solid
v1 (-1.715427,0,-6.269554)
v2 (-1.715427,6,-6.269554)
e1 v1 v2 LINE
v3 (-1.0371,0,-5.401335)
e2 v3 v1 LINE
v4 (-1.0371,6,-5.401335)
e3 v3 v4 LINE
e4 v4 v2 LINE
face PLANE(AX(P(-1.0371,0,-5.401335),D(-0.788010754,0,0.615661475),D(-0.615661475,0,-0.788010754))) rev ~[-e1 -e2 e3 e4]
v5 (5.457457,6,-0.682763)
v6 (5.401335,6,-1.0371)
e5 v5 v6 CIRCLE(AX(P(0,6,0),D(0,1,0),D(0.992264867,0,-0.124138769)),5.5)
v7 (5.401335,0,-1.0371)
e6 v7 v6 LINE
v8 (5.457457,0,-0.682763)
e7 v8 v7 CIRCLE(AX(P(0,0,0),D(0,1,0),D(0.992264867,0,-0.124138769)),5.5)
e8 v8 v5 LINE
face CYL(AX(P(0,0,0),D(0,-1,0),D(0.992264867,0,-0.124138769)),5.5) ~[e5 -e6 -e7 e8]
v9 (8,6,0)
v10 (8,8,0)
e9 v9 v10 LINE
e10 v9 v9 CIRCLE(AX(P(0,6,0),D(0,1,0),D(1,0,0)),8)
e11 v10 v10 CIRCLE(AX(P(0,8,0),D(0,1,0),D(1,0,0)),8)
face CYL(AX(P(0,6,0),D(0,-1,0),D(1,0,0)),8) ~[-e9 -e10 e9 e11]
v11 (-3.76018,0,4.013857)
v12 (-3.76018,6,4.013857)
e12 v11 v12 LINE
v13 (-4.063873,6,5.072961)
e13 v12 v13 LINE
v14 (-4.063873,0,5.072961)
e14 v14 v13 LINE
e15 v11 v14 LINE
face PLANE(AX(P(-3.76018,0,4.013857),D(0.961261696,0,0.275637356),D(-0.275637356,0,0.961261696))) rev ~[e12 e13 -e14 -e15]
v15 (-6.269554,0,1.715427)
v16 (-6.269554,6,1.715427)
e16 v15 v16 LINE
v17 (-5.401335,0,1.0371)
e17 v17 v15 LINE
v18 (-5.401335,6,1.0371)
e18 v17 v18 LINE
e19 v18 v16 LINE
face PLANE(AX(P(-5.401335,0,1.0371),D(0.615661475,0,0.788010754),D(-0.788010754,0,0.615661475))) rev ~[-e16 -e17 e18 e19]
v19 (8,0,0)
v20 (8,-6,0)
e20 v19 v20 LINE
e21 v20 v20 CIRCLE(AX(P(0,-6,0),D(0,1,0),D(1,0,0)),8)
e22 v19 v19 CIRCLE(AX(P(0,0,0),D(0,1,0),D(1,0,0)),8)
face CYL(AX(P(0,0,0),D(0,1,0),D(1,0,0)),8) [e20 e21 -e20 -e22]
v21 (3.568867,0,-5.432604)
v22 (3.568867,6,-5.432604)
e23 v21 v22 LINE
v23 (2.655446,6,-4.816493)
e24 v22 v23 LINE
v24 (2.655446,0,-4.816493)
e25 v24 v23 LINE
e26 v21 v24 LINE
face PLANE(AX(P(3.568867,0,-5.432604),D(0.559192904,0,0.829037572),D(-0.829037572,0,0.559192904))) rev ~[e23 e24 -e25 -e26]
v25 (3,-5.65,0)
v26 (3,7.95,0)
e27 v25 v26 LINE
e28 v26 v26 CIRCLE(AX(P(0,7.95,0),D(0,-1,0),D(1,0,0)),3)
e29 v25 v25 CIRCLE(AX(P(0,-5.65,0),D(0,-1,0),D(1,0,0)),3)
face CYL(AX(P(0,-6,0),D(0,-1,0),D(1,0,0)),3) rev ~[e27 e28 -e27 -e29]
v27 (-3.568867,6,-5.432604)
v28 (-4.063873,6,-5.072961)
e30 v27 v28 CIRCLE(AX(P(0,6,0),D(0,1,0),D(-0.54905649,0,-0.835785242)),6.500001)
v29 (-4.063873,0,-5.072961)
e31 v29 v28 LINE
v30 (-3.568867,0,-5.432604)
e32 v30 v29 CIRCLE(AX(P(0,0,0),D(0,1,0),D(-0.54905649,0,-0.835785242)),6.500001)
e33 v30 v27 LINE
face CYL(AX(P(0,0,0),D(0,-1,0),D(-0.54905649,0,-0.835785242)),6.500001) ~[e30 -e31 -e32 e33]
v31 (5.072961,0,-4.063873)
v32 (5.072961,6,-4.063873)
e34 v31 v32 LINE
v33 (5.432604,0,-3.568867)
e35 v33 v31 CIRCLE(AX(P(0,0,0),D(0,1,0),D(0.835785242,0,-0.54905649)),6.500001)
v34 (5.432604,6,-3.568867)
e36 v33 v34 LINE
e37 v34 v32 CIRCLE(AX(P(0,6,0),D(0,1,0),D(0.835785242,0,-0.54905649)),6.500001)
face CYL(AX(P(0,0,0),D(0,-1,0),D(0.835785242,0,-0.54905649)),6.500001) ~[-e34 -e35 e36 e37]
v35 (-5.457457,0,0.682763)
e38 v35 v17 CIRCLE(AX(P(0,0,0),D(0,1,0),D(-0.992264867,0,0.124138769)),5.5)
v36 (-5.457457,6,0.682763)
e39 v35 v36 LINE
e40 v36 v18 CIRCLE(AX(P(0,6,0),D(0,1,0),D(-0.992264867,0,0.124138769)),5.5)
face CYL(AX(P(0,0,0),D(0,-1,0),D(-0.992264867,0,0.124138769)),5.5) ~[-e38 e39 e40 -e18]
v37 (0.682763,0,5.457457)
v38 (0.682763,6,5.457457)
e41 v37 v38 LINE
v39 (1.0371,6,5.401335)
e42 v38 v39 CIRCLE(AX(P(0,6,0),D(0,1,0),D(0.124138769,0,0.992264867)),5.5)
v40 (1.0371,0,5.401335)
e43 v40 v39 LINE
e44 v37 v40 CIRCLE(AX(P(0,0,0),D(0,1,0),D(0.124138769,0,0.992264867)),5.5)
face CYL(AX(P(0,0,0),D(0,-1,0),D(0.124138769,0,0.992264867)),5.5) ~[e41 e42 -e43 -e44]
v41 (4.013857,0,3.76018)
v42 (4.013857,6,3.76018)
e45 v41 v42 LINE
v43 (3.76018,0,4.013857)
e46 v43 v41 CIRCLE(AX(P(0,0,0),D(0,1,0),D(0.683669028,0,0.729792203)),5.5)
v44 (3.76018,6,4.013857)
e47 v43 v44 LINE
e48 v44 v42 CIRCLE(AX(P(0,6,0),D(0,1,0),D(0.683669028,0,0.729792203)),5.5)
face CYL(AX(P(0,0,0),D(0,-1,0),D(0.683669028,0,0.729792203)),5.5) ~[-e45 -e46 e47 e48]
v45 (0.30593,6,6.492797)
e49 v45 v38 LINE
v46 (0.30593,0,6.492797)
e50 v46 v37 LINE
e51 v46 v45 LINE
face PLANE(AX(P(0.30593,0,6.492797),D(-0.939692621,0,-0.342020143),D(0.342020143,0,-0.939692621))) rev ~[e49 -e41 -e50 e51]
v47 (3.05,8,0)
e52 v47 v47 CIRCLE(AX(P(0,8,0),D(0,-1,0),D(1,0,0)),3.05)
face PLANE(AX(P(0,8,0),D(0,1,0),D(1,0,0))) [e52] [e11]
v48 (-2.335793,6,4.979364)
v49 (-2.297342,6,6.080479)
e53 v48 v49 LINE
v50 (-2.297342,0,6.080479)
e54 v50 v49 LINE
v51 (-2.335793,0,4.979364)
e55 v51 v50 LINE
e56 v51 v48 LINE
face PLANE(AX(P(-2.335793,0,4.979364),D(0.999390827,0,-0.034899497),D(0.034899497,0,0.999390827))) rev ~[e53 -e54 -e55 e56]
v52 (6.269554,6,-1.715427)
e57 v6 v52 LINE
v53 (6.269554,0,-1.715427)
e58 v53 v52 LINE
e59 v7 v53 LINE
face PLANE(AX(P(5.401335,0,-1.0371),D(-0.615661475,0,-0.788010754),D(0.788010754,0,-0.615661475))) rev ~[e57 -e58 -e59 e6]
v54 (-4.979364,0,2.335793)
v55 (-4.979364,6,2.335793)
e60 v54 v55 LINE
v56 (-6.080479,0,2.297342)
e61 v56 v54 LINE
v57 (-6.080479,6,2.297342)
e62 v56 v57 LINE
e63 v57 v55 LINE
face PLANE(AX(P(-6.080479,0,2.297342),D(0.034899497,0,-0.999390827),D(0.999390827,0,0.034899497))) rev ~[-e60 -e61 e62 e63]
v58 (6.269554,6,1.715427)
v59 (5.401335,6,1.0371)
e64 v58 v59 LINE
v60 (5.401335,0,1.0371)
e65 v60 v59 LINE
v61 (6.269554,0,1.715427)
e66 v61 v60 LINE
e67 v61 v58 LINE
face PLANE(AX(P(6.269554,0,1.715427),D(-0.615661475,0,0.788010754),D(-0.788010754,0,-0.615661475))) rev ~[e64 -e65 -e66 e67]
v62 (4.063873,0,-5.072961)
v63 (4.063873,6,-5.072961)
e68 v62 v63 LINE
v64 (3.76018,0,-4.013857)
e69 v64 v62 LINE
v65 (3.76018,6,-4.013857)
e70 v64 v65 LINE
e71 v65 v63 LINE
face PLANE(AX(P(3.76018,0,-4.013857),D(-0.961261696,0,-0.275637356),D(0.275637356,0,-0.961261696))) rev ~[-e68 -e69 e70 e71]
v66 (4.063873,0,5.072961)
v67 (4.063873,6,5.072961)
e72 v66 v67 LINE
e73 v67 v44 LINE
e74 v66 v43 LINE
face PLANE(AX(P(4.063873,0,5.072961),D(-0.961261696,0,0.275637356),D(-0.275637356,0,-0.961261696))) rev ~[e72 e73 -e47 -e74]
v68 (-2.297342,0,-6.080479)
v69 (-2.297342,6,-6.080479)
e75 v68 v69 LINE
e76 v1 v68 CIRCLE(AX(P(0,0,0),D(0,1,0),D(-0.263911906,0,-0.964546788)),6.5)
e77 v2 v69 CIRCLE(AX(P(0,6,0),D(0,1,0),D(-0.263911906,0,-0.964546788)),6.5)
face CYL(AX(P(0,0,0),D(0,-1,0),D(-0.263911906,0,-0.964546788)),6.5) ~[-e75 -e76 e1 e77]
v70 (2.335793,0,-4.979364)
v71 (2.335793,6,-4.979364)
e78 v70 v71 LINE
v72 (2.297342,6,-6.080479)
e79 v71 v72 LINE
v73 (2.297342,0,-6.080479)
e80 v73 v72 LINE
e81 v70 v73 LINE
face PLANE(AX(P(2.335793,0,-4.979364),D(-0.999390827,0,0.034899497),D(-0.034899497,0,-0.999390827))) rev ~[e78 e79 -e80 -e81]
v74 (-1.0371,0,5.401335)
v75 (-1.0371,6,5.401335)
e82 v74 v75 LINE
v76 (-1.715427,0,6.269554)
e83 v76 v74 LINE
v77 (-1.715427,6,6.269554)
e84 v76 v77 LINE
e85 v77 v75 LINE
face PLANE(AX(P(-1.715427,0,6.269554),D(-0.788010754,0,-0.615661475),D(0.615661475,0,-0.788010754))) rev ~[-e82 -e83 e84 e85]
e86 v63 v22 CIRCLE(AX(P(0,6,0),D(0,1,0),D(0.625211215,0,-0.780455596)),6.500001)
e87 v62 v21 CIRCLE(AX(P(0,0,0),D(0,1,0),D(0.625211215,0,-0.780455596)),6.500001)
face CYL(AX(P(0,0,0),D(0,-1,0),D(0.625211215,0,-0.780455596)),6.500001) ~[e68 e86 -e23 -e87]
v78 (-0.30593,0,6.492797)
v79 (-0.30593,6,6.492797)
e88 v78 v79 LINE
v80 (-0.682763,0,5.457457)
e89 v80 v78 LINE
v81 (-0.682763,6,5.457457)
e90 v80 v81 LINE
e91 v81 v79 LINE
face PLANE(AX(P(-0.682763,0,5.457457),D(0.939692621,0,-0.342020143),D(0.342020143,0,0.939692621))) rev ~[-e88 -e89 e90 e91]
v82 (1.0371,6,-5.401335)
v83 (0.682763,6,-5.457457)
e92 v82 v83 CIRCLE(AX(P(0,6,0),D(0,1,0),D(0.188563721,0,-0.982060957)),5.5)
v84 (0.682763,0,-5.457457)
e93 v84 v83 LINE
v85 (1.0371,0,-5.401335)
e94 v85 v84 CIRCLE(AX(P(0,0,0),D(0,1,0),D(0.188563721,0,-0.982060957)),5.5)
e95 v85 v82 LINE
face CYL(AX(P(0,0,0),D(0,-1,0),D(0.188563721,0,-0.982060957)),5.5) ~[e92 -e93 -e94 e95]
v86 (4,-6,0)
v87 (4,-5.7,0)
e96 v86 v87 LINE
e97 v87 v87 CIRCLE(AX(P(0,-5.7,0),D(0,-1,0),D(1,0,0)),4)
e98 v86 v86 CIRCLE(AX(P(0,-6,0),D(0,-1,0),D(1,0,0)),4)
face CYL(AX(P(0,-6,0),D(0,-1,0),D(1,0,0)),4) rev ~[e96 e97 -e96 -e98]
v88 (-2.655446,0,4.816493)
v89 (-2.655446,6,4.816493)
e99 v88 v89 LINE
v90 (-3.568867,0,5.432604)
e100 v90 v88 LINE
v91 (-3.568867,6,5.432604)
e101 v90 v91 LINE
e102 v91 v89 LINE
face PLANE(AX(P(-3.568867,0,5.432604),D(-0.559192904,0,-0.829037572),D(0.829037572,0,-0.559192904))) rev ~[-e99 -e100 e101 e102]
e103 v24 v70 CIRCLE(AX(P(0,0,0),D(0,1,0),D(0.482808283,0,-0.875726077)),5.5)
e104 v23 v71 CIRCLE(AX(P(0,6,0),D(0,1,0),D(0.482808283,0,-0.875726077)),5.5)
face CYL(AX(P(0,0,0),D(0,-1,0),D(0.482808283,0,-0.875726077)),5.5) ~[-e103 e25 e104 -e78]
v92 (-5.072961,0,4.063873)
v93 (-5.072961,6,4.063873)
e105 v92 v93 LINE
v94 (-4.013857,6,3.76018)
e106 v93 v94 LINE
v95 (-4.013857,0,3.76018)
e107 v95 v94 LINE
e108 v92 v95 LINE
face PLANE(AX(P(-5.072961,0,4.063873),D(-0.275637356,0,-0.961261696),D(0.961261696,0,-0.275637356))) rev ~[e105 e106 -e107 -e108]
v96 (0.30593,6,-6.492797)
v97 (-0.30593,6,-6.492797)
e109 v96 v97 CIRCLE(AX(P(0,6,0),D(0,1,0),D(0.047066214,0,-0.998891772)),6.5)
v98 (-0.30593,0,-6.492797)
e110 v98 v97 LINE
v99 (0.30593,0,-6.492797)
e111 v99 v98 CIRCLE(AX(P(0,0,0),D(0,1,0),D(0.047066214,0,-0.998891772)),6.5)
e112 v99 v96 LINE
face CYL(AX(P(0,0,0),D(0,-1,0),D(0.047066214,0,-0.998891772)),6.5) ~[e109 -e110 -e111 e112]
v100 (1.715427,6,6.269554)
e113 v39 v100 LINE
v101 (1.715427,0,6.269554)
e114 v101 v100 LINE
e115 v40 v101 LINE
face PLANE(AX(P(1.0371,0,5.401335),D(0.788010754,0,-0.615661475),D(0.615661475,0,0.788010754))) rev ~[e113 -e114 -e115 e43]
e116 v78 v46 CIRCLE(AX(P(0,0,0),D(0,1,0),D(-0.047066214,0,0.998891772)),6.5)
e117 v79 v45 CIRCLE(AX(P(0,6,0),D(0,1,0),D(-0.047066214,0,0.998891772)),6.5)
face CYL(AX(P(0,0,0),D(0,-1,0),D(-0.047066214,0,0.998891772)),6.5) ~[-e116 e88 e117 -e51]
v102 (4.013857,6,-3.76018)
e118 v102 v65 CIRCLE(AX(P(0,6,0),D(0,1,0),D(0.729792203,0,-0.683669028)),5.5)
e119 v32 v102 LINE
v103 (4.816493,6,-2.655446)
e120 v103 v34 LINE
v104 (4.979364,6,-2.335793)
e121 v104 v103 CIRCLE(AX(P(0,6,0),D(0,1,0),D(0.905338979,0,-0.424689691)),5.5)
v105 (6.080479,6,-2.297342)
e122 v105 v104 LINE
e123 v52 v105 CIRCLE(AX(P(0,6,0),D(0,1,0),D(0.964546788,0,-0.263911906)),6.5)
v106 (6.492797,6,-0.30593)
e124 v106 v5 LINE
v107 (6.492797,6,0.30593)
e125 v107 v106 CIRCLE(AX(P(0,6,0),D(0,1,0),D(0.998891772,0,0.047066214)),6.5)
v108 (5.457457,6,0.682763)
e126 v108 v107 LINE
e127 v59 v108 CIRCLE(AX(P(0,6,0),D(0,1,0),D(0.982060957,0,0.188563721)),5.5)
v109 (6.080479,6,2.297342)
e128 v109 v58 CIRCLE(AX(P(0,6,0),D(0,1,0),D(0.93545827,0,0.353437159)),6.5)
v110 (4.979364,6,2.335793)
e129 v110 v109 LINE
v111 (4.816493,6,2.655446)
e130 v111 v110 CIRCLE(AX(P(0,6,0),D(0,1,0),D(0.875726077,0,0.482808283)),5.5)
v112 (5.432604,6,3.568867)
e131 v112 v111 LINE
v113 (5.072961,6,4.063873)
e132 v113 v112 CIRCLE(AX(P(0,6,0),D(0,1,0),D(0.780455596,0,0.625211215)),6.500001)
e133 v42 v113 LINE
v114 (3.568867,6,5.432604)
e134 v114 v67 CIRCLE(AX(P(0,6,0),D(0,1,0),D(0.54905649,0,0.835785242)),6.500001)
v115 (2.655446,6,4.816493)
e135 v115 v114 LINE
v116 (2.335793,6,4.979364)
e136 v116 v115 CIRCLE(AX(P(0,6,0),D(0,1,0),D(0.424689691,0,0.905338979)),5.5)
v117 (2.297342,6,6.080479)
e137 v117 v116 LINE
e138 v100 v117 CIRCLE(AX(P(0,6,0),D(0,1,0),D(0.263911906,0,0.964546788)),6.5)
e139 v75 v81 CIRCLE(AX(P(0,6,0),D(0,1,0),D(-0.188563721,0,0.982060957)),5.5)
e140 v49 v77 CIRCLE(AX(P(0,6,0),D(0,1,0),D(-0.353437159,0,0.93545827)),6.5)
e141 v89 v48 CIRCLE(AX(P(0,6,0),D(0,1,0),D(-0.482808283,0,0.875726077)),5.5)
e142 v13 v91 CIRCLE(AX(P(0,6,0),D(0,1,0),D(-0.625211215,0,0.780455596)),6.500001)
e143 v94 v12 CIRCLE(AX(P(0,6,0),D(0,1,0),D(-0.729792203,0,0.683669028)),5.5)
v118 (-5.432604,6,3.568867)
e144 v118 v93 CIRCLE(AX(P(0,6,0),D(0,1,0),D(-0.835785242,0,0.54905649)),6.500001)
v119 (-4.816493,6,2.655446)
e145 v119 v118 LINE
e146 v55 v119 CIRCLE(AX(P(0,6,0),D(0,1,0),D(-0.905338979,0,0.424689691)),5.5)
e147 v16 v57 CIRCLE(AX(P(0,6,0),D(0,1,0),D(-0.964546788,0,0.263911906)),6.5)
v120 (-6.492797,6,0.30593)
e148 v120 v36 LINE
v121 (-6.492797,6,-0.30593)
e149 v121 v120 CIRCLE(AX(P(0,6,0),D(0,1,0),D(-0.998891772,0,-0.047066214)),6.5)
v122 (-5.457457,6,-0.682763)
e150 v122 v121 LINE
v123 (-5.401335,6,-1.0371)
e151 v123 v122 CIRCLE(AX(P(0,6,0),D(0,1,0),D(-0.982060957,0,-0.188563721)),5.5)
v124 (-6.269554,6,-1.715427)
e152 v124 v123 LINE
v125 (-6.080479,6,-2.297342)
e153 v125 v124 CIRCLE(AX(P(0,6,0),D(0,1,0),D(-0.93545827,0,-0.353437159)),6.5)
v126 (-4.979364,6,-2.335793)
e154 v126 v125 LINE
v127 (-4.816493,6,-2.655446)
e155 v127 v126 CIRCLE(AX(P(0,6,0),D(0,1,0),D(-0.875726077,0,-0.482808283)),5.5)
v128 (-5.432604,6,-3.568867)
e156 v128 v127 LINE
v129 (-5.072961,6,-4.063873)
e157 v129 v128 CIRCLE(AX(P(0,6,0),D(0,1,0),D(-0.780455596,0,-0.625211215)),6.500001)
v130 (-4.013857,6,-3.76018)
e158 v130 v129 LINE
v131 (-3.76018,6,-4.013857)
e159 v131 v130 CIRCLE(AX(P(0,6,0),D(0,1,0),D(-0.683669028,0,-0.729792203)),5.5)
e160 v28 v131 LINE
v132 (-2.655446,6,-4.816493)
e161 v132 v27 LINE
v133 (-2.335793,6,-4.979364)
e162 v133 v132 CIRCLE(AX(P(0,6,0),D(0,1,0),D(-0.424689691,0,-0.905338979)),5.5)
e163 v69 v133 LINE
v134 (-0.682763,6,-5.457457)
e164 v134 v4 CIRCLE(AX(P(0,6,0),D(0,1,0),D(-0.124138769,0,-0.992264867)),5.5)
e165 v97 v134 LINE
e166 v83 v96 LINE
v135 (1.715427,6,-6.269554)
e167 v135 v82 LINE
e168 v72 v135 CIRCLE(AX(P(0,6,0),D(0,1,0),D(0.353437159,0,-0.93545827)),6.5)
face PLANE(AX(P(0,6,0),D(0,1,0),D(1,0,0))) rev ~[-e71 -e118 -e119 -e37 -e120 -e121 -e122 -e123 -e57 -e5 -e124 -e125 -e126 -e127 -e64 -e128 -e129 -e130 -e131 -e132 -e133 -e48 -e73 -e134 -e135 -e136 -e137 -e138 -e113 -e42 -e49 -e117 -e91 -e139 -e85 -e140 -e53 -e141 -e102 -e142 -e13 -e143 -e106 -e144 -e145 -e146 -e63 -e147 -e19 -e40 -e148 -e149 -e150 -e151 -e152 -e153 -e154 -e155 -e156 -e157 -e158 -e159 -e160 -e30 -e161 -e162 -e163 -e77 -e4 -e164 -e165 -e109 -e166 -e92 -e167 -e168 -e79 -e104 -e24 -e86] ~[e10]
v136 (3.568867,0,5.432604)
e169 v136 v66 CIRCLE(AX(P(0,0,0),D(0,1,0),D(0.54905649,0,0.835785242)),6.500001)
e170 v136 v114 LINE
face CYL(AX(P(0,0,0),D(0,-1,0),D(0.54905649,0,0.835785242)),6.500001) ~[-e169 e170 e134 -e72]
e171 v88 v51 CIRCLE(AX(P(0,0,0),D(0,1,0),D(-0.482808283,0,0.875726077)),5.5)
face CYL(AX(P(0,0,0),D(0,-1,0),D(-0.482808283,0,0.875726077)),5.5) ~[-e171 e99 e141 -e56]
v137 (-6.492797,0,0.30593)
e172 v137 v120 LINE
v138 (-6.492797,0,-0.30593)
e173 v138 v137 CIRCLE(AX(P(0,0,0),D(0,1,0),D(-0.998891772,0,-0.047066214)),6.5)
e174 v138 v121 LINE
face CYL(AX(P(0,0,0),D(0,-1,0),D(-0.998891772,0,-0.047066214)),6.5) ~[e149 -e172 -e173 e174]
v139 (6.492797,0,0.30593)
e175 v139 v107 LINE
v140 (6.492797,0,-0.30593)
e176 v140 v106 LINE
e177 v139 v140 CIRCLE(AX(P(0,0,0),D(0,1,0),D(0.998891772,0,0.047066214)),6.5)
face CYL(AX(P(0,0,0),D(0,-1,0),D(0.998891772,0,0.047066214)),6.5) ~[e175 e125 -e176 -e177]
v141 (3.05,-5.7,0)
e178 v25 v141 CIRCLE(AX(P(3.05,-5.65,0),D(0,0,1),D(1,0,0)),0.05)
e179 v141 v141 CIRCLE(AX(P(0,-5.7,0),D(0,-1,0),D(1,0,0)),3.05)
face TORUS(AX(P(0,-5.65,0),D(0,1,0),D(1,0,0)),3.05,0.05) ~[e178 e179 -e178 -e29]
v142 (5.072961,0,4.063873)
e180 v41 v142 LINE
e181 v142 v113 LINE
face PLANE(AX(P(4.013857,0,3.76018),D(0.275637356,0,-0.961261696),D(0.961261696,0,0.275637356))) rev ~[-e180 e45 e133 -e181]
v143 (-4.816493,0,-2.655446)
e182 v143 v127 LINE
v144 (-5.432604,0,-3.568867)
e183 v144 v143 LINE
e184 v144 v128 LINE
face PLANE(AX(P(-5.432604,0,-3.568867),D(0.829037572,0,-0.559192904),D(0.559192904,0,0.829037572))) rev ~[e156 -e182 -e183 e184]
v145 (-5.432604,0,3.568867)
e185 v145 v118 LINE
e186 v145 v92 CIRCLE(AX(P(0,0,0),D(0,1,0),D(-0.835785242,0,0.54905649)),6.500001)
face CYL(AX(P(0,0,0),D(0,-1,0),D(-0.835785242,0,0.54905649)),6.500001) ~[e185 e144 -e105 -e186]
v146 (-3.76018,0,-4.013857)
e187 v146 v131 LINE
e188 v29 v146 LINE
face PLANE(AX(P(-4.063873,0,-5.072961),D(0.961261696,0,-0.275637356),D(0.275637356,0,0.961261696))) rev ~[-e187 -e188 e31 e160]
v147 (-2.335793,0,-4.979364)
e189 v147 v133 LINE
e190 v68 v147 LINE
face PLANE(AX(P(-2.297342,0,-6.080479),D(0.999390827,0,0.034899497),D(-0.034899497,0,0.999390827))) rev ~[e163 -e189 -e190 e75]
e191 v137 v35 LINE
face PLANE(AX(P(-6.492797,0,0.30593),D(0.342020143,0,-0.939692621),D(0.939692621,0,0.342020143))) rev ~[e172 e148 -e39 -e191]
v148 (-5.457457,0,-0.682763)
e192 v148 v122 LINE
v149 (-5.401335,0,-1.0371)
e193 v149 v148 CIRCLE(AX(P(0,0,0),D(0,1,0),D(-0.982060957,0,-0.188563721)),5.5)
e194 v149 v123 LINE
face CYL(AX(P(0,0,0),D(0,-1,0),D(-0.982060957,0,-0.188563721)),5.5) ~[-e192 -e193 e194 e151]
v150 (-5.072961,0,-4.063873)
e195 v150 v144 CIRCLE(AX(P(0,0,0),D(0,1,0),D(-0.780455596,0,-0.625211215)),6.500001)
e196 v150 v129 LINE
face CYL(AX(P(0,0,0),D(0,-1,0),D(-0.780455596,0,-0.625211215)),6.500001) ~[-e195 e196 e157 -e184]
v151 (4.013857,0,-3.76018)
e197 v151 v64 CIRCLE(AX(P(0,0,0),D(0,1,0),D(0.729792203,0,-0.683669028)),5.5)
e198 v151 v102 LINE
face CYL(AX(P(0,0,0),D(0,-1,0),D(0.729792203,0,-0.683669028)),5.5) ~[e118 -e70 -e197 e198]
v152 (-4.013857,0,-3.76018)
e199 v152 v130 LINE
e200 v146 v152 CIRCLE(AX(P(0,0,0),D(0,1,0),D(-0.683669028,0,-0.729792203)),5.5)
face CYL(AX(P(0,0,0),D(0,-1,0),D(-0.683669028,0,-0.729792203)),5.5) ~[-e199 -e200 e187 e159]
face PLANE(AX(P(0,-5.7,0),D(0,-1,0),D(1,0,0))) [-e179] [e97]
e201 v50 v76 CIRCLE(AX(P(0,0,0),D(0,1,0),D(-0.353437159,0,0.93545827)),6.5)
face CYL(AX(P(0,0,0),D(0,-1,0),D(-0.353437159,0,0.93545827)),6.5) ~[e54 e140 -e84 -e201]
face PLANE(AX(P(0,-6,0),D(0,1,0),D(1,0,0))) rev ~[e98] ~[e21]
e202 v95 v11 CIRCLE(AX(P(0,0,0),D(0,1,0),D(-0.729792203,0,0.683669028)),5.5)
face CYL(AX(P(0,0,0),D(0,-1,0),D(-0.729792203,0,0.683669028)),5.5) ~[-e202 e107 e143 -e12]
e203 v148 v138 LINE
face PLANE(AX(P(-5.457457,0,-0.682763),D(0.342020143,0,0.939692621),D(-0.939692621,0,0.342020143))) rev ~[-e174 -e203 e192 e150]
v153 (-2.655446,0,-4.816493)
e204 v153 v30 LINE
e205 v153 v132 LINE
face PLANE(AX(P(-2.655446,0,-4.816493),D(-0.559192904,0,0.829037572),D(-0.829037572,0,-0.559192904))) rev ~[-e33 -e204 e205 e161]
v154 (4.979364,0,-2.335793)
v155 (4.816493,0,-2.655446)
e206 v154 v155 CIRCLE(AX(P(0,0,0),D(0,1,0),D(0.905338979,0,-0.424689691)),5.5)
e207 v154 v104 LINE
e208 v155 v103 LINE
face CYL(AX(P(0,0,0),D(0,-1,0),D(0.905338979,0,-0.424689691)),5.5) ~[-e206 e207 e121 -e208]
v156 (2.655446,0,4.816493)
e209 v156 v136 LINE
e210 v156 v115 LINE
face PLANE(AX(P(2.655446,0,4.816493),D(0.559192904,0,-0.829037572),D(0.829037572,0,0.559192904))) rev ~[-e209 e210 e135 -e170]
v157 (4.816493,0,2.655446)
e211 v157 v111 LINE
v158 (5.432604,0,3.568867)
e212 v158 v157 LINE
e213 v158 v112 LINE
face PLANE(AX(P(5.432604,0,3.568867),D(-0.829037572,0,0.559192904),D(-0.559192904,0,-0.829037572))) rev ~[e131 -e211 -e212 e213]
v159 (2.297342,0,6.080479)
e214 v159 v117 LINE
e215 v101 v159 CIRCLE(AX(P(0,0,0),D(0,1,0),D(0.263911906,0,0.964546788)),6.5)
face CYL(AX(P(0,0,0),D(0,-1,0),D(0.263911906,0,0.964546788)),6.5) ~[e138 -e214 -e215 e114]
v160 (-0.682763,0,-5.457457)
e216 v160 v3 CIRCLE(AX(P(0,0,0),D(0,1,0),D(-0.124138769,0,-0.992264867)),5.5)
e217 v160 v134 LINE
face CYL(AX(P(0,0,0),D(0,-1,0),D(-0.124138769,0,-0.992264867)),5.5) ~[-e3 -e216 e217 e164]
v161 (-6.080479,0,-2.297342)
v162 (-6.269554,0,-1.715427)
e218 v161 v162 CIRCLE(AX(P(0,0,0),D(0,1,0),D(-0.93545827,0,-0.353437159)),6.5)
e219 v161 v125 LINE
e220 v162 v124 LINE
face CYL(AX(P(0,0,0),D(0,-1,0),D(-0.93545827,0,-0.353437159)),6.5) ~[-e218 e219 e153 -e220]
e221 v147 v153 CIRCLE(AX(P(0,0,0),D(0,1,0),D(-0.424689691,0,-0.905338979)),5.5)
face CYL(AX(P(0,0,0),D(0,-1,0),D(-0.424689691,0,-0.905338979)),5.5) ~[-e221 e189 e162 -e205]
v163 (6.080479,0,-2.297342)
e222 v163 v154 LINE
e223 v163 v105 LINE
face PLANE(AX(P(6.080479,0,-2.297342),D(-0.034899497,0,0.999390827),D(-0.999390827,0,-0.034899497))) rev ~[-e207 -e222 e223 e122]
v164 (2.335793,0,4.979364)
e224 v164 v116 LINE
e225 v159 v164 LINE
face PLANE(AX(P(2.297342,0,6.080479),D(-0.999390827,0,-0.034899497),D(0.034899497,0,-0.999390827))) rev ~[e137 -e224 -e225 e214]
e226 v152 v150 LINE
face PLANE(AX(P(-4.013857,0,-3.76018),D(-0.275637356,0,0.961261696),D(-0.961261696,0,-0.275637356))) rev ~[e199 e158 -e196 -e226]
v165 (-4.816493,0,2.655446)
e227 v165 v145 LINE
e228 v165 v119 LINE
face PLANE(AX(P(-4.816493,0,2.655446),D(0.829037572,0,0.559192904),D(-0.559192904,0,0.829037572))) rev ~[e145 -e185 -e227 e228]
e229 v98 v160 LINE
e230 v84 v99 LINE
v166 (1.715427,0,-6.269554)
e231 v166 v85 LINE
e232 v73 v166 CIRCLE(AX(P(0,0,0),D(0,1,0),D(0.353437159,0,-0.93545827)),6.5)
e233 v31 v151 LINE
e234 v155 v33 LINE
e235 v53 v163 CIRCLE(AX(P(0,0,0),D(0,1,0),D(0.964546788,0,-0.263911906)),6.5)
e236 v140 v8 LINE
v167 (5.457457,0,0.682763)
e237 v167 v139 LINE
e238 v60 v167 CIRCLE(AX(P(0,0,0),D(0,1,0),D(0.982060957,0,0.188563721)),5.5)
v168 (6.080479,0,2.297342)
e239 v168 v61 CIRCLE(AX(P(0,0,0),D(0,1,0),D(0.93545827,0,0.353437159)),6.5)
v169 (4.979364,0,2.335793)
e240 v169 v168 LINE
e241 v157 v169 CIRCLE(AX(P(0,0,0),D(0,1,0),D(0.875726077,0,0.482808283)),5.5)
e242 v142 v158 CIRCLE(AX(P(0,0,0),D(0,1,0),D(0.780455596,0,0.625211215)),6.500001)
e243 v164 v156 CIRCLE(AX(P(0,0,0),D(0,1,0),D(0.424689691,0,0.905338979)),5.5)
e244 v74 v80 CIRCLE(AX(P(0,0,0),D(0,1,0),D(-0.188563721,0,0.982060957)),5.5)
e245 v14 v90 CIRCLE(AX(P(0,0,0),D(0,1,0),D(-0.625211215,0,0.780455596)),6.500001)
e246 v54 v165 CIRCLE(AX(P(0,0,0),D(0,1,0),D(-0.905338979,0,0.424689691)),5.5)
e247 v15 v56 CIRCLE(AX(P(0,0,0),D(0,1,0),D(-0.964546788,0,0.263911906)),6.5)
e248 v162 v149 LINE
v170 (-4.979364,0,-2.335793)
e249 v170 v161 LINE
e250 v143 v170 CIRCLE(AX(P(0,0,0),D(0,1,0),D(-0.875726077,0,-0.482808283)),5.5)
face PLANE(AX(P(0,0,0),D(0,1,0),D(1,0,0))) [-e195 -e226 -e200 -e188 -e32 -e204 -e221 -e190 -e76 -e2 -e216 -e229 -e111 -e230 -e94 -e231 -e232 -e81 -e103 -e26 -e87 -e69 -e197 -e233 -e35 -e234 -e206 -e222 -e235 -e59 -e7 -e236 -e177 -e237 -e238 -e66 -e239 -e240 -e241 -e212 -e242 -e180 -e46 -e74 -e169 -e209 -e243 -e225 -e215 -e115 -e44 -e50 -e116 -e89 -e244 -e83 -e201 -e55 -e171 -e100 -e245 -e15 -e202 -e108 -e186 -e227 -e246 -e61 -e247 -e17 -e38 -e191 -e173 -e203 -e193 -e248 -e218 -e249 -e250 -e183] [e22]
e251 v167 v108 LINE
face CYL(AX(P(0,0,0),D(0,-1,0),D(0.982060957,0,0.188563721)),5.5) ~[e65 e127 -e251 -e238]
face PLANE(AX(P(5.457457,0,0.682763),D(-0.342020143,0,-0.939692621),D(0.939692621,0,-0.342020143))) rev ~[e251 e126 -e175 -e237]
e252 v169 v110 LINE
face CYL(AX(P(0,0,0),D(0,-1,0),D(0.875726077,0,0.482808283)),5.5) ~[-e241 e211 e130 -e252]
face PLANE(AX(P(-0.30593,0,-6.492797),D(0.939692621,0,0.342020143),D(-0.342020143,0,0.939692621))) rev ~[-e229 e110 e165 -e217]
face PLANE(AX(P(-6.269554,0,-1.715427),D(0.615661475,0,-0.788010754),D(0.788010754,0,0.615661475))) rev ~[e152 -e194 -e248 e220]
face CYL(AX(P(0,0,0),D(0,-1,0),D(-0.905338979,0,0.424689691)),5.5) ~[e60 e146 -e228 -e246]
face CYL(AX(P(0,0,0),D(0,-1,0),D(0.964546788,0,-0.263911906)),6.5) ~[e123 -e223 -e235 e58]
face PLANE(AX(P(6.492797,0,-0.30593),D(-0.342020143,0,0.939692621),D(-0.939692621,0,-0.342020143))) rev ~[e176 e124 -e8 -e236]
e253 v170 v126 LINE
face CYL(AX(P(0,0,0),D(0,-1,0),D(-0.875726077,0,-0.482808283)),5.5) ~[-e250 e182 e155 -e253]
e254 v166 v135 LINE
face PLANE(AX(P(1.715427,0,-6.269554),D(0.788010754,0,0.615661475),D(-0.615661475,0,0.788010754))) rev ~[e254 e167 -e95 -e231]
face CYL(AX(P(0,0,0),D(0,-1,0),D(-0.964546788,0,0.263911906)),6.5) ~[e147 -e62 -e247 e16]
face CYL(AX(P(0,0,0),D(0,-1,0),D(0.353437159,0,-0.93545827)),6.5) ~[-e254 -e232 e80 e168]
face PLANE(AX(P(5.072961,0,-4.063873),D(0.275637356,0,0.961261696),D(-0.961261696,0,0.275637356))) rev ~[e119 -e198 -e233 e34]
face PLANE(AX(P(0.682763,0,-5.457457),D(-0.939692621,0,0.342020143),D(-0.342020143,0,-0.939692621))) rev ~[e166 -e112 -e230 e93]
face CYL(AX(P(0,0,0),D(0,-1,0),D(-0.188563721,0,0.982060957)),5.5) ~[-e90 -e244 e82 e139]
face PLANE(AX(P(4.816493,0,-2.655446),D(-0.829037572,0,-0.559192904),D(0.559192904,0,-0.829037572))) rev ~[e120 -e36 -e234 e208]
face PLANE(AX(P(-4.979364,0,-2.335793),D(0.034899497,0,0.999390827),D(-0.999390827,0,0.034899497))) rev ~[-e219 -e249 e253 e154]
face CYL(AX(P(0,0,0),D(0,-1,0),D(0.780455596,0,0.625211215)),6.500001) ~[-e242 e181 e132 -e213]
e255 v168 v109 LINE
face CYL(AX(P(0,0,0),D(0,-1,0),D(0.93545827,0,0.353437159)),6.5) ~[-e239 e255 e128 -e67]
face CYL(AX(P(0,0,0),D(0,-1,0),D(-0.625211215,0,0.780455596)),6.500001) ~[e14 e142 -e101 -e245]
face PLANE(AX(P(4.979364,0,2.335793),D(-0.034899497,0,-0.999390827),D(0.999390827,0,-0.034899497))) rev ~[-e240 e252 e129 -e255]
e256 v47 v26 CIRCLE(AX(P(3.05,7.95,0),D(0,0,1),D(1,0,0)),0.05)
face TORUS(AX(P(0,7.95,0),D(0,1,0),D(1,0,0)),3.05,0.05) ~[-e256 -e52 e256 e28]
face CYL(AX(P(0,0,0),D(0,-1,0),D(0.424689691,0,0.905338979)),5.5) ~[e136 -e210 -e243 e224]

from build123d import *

# Parameters (mm, degrees)
SKETCH1_R           = 8
BOSS_EXTRUDE1_DEPTH = 6
BOSS_EXTRUDE2_DEPTH = 6
SKETCH3_R           = 8
BOSS_EXTRUDE3_DEPTH = 2
SKETCH4_R           = 3
CUT_EXTRUDE1_DEPTH  = 15
SKETCH5_R           = 4
CUT_EXTRUDE2_DEPTH  = 0.3
FILLET1_R           = 0.05


with BuildPart() as part:
    # Sketch1 → Boss-Extrude1 (new body)
    with BuildSketch(Plane(origin=(0, 0, 0), x_dir=(1, 0, 0), z_dir=(0, 1, 0))):
        Circle(SKETCH1_R)
    extrude(amount=-BOSS_EXTRUDE1_DEPTH)

    # Sketch2 → Boss-Extrude2 (add)
    with BuildSketch(Plane(origin=(0, 0, 0), x_dir=(1, 0, 0), z_dir=(0, 1, 0))):
        with BuildLine():
            Line((-0.305930382, 6.492796516), (-0.682763233, 5.457456767))
            ThreePointArc((-0.682763233, 5.457456767), (-0.860389558, 5.432285873), (-1.037100465, 5.401335263))
            Line((-1.037100465, 5.401335263), (-1.715427381, 6.269554123))
            ThreePointArc((-1.715427381, 6.269554123), (-2.008610463, 6.181867356), (-2.297341548, 6.080478749))
            Line((-2.297341548, 6.080478749), (-2.335793309, 4.979364379))
            ThreePointArc((-2.335793309, 4.979364379), (-2.496947749, 4.900535883), (-2.655445544, 4.81649343))
            Line((-2.655445544, 4.81649343), (-3.56886716, 5.43260409))
            ThreePointArc((-3.56886716, 5.43260409), (-3.82060414, 5.258610463), (-4.063872917, 5.072961356))
            Line((-4.063872917, 5.072961356), (-3.760179662, 4.013857112))
            ThreePointArc((-3.760179662, 4.013857112), (-3.889087297, 3.889087297), (-4.013857112, 3.760179662))
            Line((-4.013857112, 3.760179662), (-5.072961356, 4.063872917))
            ThreePointArc((-5.072961356, 4.063872917), (-5.258610463, 3.82060414), (-5.43260409, 3.56886716))
            Line((-5.43260409, 3.56886716), (-4.81649343, 2.655445544))
            ThreePointArc((-4.81649343, 2.655445544), (-4.900535883, 2.496947749), (-4.979364379, 2.335793309))
            Line((-4.979364379, 2.335793309), (-6.080478749, 2.297341548))
            ThreePointArc((-6.080478749, 2.297341548), (-6.181867356, 2.008610463), (-6.269554123, 1.715427381))
            Line((-6.269554123, 1.715427381), (-5.401335263, 1.037100465))
            ThreePointArc((-5.401335263, 1.037100465), (-5.432285873, 0.860389558), (-5.457456767, 0.682763233))
            Line((-5.457456767, 0.682763233), (-6.492796516, 0.305930382))
            ThreePointArc((-6.492796516, 0.305930382), (-6.5, 0), (-6.492796516, -0.305930382))
            Line((-6.492796516, -0.305930382), (-5.457456767, -0.682763233))
            ThreePointArc((-5.457456767, -0.682763233), (-5.432285873, -0.860389558), (-5.401335263, -1.037100465))
            Line((-5.401335263, -1.037100465), (-6.269554123, -1.715427381))
            ThreePointArc((-6.269554123, -1.715427381), (-6.181867356, -2.008610463), (-6.080478749, -2.297341548))
            Line((-6.080478749, -2.297341548), (-4.979364379, -2.335793309))
            ThreePointArc((-4.979364379, -2.335793309), (-4.900535883, -2.496947749), (-4.81649343, -2.655445544))
            Line((-4.81649343, -2.655445544), (-5.43260409, -3.56886716))
            ThreePointArc((-5.43260409, -3.56886716), (-5.258610463, -3.82060414), (-5.072961356, -4.063872917))
            Line((-5.072961356, -4.063872917), (-4.013857112, -3.760179662))
            ThreePointArc((-4.013857112, -3.760179662), (-3.889087297, -3.889087297), (-3.760179662, -4.013857112))
            Line((-3.760179662, -4.013857112), (-4.063872917, -5.072961356))
            ThreePointArc((-4.063872917, -5.072961356), (-3.82060414, -5.258610463), (-3.56886716, -5.43260409))
            Line((-3.56886716, -5.43260409), (-2.655445544, -4.81649343))
            ThreePointArc((-2.655445544, -4.81649343), (-2.496947749, -4.900535883), (-2.335793309, -4.979364379))
            Line((-2.335793309, -4.979364379), (-2.297341548, -6.080478749))
            ThreePointArc((-2.297341548, -6.080478749), (-2.008610463, -6.181867356), (-1.715427381, -6.269554123))
            Line((-1.715427381, -6.269554123), (-1.037100465, -5.401335263))
            ThreePointArc((-1.037100465, -5.401335263), (-0.860389558, -5.432285873), (-0.682763233, -5.457456767))
            Line((-0.682763233, -5.457456767), (-0.305930382, -6.492796516))
            ThreePointArc((-0.305930382, -6.492796516), (0, -6.5), (0.305930382, -6.492796516))
            Line((0.305930382, -6.492796516), (0.682763233, -5.457456767))
            ThreePointArc((0.682763233, -5.457456767), (0.860389558, -5.432285873), (1.037100465, -5.401335263))
            Line((1.037100465, -5.401335263), (1.715427381, -6.269554123))
            ThreePointArc((1.715427381, -6.269554123), (2.008610463, -6.181867356), (2.297341548, -6.080478749))
            Line((2.297341548, -6.080478749), (2.335793309, -4.979364379))
            ThreePointArc((2.335793309, -4.979364379), (2.496947749, -4.900535883), (2.655445544, -4.81649343))
            Line((2.655445544, -4.81649343), (3.56886716, -5.43260409))
            ThreePointArc((3.56886716, -5.43260409), (3.82060414, -5.258610463), (4.063872917, -5.072961356))
            Line((4.063872917, -5.072961356), (3.760179662, -4.013857112))
            ThreePointArc((3.760179662, -4.013857112), (3.889087297, -3.889087297), (4.013857112, -3.760179662))
            Line((4.013857112, -3.760179662), (5.072961356, -4.063872917))
            ThreePointArc((5.072961356, -4.063872917), (5.258610463, -3.82060414), (5.43260409, -3.56886716))
            Line((5.43260409, -3.56886716), (4.81649343, -2.655445544))
            ThreePointArc((4.81649343, -2.655445544), (4.900535883, -2.496947749), (4.979364379, -2.335793309))
            Line((4.979364379, -2.335793309), (6.080478749, -2.297341548))
            ThreePointArc((6.080478749, -2.297341548), (6.181867356, -2.008610463), (6.269554123, -1.715427381))
            Line((6.269554123, -1.715427381), (5.401335263, -1.037100465))
            ThreePointArc((5.401335263, -1.037100465), (5.432285873, -0.860389558), (5.457456767, -0.682763233))
            Line((5.457456767, -0.682763233), (6.492796516, -0.305930382))
            ThreePointArc((6.492796516, -0.305930382), (6.5, 0), (6.492796516, 0.305930382))
            Line((6.492796516, 0.305930382), (5.457456767, 0.682763233))
            ThreePointArc((5.457456767, 0.682763233), (5.432285873, 0.860389558), (5.401335263, 1.037100465))
            Line((5.401335263, 1.037100465), (6.269554123, 1.715427381))
            ThreePointArc((6.269554123, 1.715427381), (6.181867356, 2.008610463), (6.080478749, 2.297341548))
            Line((6.080478749, 2.297341548), (4.979364379, 2.335793309))
            ThreePointArc((4.979364379, 2.335793309), (4.900535883, 2.496947749), (4.81649343, 2.655445544))
            Line((4.81649343, 2.655445544), (5.43260409, 3.56886716))
            ThreePointArc((5.43260409, 3.56886716), (5.258610463, 3.82060414), (5.072961356, 4.063872917))
            Line((5.072961356, 4.063872917), (4.013857112, 3.760179662))
            ThreePointArc((4.013857112, 3.760179662), (3.889087297, 3.889087297), (3.760179662, 4.013857112))
            Line((3.760179662, 4.013857112), (4.063872917, 5.072961356))
            ThreePointArc((4.063872917, 5.072961356), (3.82060414, 5.258610463), (3.56886716, 5.43260409))
            Line((3.56886716, 5.43260409), (2.655445544, 4.81649343))
            ThreePointArc((2.655445544, 4.81649343), (2.496947749, 4.900535883), (2.335793309, 4.979364379))
            Line((2.335793309, 4.979364379), (2.297341548, 6.080478749))
            ThreePointArc((2.297341548, 6.080478749), (2.008610463, 6.181867356), (1.715427381, 6.269554123))
            Line((1.715427381, 6.269554123), (1.037100465, 5.401335263))
            ThreePointArc((1.037100465, 5.401335263), (0.860389558, 5.432285873), (0.682763233, 5.457456767))
            Line((0.682763233, 5.457456767), (0.305930382, 6.492796516))
            ThreePointArc((0.305930382, 6.492796516), (0, 6.5), (-0.305930382, 6.492796516))
        make_face()
    extrude(amount=BOSS_EXTRUDE2_DEPTH)

    # Sketch3 → Boss-Extrude3 (add)
    with BuildSketch(Plane(origin=(0, 6, 0), x_dir=(1, 0, 0), z_dir=(0, 1, 0))):
        Circle(SKETCH3_R)
    extrude(amount=BOSS_EXTRUDE3_DEPTH)

    # Sketch4 → Cut-Extrude1 (cut, through all)
    with BuildSketch(Plane.XZ.offset(6)):
        Circle(SKETCH4_R)
    extrude(amount=-CUT_EXTRUDE1_DEPTH, mode=Mode.SUBTRACT)

    # Sketch5 → Cut-Extrude2 (cut)
    with BuildSketch(Plane.XZ.offset(6)):
        Circle(SKETCH5_R)
    extrude(amount=-CUT_EXTRUDE2_DEPTH, mode=Mode.SUBTRACT)

    # Fillet1
    fillet1_edges = [part.edges().sort_by_distance(p)[0] for p in [
        (-3, 8, 0),
        (-3, -5.7, 0),
    ]]
    fillet(fillet1_edges, radius=FILLET1_R)


solid = part.part
